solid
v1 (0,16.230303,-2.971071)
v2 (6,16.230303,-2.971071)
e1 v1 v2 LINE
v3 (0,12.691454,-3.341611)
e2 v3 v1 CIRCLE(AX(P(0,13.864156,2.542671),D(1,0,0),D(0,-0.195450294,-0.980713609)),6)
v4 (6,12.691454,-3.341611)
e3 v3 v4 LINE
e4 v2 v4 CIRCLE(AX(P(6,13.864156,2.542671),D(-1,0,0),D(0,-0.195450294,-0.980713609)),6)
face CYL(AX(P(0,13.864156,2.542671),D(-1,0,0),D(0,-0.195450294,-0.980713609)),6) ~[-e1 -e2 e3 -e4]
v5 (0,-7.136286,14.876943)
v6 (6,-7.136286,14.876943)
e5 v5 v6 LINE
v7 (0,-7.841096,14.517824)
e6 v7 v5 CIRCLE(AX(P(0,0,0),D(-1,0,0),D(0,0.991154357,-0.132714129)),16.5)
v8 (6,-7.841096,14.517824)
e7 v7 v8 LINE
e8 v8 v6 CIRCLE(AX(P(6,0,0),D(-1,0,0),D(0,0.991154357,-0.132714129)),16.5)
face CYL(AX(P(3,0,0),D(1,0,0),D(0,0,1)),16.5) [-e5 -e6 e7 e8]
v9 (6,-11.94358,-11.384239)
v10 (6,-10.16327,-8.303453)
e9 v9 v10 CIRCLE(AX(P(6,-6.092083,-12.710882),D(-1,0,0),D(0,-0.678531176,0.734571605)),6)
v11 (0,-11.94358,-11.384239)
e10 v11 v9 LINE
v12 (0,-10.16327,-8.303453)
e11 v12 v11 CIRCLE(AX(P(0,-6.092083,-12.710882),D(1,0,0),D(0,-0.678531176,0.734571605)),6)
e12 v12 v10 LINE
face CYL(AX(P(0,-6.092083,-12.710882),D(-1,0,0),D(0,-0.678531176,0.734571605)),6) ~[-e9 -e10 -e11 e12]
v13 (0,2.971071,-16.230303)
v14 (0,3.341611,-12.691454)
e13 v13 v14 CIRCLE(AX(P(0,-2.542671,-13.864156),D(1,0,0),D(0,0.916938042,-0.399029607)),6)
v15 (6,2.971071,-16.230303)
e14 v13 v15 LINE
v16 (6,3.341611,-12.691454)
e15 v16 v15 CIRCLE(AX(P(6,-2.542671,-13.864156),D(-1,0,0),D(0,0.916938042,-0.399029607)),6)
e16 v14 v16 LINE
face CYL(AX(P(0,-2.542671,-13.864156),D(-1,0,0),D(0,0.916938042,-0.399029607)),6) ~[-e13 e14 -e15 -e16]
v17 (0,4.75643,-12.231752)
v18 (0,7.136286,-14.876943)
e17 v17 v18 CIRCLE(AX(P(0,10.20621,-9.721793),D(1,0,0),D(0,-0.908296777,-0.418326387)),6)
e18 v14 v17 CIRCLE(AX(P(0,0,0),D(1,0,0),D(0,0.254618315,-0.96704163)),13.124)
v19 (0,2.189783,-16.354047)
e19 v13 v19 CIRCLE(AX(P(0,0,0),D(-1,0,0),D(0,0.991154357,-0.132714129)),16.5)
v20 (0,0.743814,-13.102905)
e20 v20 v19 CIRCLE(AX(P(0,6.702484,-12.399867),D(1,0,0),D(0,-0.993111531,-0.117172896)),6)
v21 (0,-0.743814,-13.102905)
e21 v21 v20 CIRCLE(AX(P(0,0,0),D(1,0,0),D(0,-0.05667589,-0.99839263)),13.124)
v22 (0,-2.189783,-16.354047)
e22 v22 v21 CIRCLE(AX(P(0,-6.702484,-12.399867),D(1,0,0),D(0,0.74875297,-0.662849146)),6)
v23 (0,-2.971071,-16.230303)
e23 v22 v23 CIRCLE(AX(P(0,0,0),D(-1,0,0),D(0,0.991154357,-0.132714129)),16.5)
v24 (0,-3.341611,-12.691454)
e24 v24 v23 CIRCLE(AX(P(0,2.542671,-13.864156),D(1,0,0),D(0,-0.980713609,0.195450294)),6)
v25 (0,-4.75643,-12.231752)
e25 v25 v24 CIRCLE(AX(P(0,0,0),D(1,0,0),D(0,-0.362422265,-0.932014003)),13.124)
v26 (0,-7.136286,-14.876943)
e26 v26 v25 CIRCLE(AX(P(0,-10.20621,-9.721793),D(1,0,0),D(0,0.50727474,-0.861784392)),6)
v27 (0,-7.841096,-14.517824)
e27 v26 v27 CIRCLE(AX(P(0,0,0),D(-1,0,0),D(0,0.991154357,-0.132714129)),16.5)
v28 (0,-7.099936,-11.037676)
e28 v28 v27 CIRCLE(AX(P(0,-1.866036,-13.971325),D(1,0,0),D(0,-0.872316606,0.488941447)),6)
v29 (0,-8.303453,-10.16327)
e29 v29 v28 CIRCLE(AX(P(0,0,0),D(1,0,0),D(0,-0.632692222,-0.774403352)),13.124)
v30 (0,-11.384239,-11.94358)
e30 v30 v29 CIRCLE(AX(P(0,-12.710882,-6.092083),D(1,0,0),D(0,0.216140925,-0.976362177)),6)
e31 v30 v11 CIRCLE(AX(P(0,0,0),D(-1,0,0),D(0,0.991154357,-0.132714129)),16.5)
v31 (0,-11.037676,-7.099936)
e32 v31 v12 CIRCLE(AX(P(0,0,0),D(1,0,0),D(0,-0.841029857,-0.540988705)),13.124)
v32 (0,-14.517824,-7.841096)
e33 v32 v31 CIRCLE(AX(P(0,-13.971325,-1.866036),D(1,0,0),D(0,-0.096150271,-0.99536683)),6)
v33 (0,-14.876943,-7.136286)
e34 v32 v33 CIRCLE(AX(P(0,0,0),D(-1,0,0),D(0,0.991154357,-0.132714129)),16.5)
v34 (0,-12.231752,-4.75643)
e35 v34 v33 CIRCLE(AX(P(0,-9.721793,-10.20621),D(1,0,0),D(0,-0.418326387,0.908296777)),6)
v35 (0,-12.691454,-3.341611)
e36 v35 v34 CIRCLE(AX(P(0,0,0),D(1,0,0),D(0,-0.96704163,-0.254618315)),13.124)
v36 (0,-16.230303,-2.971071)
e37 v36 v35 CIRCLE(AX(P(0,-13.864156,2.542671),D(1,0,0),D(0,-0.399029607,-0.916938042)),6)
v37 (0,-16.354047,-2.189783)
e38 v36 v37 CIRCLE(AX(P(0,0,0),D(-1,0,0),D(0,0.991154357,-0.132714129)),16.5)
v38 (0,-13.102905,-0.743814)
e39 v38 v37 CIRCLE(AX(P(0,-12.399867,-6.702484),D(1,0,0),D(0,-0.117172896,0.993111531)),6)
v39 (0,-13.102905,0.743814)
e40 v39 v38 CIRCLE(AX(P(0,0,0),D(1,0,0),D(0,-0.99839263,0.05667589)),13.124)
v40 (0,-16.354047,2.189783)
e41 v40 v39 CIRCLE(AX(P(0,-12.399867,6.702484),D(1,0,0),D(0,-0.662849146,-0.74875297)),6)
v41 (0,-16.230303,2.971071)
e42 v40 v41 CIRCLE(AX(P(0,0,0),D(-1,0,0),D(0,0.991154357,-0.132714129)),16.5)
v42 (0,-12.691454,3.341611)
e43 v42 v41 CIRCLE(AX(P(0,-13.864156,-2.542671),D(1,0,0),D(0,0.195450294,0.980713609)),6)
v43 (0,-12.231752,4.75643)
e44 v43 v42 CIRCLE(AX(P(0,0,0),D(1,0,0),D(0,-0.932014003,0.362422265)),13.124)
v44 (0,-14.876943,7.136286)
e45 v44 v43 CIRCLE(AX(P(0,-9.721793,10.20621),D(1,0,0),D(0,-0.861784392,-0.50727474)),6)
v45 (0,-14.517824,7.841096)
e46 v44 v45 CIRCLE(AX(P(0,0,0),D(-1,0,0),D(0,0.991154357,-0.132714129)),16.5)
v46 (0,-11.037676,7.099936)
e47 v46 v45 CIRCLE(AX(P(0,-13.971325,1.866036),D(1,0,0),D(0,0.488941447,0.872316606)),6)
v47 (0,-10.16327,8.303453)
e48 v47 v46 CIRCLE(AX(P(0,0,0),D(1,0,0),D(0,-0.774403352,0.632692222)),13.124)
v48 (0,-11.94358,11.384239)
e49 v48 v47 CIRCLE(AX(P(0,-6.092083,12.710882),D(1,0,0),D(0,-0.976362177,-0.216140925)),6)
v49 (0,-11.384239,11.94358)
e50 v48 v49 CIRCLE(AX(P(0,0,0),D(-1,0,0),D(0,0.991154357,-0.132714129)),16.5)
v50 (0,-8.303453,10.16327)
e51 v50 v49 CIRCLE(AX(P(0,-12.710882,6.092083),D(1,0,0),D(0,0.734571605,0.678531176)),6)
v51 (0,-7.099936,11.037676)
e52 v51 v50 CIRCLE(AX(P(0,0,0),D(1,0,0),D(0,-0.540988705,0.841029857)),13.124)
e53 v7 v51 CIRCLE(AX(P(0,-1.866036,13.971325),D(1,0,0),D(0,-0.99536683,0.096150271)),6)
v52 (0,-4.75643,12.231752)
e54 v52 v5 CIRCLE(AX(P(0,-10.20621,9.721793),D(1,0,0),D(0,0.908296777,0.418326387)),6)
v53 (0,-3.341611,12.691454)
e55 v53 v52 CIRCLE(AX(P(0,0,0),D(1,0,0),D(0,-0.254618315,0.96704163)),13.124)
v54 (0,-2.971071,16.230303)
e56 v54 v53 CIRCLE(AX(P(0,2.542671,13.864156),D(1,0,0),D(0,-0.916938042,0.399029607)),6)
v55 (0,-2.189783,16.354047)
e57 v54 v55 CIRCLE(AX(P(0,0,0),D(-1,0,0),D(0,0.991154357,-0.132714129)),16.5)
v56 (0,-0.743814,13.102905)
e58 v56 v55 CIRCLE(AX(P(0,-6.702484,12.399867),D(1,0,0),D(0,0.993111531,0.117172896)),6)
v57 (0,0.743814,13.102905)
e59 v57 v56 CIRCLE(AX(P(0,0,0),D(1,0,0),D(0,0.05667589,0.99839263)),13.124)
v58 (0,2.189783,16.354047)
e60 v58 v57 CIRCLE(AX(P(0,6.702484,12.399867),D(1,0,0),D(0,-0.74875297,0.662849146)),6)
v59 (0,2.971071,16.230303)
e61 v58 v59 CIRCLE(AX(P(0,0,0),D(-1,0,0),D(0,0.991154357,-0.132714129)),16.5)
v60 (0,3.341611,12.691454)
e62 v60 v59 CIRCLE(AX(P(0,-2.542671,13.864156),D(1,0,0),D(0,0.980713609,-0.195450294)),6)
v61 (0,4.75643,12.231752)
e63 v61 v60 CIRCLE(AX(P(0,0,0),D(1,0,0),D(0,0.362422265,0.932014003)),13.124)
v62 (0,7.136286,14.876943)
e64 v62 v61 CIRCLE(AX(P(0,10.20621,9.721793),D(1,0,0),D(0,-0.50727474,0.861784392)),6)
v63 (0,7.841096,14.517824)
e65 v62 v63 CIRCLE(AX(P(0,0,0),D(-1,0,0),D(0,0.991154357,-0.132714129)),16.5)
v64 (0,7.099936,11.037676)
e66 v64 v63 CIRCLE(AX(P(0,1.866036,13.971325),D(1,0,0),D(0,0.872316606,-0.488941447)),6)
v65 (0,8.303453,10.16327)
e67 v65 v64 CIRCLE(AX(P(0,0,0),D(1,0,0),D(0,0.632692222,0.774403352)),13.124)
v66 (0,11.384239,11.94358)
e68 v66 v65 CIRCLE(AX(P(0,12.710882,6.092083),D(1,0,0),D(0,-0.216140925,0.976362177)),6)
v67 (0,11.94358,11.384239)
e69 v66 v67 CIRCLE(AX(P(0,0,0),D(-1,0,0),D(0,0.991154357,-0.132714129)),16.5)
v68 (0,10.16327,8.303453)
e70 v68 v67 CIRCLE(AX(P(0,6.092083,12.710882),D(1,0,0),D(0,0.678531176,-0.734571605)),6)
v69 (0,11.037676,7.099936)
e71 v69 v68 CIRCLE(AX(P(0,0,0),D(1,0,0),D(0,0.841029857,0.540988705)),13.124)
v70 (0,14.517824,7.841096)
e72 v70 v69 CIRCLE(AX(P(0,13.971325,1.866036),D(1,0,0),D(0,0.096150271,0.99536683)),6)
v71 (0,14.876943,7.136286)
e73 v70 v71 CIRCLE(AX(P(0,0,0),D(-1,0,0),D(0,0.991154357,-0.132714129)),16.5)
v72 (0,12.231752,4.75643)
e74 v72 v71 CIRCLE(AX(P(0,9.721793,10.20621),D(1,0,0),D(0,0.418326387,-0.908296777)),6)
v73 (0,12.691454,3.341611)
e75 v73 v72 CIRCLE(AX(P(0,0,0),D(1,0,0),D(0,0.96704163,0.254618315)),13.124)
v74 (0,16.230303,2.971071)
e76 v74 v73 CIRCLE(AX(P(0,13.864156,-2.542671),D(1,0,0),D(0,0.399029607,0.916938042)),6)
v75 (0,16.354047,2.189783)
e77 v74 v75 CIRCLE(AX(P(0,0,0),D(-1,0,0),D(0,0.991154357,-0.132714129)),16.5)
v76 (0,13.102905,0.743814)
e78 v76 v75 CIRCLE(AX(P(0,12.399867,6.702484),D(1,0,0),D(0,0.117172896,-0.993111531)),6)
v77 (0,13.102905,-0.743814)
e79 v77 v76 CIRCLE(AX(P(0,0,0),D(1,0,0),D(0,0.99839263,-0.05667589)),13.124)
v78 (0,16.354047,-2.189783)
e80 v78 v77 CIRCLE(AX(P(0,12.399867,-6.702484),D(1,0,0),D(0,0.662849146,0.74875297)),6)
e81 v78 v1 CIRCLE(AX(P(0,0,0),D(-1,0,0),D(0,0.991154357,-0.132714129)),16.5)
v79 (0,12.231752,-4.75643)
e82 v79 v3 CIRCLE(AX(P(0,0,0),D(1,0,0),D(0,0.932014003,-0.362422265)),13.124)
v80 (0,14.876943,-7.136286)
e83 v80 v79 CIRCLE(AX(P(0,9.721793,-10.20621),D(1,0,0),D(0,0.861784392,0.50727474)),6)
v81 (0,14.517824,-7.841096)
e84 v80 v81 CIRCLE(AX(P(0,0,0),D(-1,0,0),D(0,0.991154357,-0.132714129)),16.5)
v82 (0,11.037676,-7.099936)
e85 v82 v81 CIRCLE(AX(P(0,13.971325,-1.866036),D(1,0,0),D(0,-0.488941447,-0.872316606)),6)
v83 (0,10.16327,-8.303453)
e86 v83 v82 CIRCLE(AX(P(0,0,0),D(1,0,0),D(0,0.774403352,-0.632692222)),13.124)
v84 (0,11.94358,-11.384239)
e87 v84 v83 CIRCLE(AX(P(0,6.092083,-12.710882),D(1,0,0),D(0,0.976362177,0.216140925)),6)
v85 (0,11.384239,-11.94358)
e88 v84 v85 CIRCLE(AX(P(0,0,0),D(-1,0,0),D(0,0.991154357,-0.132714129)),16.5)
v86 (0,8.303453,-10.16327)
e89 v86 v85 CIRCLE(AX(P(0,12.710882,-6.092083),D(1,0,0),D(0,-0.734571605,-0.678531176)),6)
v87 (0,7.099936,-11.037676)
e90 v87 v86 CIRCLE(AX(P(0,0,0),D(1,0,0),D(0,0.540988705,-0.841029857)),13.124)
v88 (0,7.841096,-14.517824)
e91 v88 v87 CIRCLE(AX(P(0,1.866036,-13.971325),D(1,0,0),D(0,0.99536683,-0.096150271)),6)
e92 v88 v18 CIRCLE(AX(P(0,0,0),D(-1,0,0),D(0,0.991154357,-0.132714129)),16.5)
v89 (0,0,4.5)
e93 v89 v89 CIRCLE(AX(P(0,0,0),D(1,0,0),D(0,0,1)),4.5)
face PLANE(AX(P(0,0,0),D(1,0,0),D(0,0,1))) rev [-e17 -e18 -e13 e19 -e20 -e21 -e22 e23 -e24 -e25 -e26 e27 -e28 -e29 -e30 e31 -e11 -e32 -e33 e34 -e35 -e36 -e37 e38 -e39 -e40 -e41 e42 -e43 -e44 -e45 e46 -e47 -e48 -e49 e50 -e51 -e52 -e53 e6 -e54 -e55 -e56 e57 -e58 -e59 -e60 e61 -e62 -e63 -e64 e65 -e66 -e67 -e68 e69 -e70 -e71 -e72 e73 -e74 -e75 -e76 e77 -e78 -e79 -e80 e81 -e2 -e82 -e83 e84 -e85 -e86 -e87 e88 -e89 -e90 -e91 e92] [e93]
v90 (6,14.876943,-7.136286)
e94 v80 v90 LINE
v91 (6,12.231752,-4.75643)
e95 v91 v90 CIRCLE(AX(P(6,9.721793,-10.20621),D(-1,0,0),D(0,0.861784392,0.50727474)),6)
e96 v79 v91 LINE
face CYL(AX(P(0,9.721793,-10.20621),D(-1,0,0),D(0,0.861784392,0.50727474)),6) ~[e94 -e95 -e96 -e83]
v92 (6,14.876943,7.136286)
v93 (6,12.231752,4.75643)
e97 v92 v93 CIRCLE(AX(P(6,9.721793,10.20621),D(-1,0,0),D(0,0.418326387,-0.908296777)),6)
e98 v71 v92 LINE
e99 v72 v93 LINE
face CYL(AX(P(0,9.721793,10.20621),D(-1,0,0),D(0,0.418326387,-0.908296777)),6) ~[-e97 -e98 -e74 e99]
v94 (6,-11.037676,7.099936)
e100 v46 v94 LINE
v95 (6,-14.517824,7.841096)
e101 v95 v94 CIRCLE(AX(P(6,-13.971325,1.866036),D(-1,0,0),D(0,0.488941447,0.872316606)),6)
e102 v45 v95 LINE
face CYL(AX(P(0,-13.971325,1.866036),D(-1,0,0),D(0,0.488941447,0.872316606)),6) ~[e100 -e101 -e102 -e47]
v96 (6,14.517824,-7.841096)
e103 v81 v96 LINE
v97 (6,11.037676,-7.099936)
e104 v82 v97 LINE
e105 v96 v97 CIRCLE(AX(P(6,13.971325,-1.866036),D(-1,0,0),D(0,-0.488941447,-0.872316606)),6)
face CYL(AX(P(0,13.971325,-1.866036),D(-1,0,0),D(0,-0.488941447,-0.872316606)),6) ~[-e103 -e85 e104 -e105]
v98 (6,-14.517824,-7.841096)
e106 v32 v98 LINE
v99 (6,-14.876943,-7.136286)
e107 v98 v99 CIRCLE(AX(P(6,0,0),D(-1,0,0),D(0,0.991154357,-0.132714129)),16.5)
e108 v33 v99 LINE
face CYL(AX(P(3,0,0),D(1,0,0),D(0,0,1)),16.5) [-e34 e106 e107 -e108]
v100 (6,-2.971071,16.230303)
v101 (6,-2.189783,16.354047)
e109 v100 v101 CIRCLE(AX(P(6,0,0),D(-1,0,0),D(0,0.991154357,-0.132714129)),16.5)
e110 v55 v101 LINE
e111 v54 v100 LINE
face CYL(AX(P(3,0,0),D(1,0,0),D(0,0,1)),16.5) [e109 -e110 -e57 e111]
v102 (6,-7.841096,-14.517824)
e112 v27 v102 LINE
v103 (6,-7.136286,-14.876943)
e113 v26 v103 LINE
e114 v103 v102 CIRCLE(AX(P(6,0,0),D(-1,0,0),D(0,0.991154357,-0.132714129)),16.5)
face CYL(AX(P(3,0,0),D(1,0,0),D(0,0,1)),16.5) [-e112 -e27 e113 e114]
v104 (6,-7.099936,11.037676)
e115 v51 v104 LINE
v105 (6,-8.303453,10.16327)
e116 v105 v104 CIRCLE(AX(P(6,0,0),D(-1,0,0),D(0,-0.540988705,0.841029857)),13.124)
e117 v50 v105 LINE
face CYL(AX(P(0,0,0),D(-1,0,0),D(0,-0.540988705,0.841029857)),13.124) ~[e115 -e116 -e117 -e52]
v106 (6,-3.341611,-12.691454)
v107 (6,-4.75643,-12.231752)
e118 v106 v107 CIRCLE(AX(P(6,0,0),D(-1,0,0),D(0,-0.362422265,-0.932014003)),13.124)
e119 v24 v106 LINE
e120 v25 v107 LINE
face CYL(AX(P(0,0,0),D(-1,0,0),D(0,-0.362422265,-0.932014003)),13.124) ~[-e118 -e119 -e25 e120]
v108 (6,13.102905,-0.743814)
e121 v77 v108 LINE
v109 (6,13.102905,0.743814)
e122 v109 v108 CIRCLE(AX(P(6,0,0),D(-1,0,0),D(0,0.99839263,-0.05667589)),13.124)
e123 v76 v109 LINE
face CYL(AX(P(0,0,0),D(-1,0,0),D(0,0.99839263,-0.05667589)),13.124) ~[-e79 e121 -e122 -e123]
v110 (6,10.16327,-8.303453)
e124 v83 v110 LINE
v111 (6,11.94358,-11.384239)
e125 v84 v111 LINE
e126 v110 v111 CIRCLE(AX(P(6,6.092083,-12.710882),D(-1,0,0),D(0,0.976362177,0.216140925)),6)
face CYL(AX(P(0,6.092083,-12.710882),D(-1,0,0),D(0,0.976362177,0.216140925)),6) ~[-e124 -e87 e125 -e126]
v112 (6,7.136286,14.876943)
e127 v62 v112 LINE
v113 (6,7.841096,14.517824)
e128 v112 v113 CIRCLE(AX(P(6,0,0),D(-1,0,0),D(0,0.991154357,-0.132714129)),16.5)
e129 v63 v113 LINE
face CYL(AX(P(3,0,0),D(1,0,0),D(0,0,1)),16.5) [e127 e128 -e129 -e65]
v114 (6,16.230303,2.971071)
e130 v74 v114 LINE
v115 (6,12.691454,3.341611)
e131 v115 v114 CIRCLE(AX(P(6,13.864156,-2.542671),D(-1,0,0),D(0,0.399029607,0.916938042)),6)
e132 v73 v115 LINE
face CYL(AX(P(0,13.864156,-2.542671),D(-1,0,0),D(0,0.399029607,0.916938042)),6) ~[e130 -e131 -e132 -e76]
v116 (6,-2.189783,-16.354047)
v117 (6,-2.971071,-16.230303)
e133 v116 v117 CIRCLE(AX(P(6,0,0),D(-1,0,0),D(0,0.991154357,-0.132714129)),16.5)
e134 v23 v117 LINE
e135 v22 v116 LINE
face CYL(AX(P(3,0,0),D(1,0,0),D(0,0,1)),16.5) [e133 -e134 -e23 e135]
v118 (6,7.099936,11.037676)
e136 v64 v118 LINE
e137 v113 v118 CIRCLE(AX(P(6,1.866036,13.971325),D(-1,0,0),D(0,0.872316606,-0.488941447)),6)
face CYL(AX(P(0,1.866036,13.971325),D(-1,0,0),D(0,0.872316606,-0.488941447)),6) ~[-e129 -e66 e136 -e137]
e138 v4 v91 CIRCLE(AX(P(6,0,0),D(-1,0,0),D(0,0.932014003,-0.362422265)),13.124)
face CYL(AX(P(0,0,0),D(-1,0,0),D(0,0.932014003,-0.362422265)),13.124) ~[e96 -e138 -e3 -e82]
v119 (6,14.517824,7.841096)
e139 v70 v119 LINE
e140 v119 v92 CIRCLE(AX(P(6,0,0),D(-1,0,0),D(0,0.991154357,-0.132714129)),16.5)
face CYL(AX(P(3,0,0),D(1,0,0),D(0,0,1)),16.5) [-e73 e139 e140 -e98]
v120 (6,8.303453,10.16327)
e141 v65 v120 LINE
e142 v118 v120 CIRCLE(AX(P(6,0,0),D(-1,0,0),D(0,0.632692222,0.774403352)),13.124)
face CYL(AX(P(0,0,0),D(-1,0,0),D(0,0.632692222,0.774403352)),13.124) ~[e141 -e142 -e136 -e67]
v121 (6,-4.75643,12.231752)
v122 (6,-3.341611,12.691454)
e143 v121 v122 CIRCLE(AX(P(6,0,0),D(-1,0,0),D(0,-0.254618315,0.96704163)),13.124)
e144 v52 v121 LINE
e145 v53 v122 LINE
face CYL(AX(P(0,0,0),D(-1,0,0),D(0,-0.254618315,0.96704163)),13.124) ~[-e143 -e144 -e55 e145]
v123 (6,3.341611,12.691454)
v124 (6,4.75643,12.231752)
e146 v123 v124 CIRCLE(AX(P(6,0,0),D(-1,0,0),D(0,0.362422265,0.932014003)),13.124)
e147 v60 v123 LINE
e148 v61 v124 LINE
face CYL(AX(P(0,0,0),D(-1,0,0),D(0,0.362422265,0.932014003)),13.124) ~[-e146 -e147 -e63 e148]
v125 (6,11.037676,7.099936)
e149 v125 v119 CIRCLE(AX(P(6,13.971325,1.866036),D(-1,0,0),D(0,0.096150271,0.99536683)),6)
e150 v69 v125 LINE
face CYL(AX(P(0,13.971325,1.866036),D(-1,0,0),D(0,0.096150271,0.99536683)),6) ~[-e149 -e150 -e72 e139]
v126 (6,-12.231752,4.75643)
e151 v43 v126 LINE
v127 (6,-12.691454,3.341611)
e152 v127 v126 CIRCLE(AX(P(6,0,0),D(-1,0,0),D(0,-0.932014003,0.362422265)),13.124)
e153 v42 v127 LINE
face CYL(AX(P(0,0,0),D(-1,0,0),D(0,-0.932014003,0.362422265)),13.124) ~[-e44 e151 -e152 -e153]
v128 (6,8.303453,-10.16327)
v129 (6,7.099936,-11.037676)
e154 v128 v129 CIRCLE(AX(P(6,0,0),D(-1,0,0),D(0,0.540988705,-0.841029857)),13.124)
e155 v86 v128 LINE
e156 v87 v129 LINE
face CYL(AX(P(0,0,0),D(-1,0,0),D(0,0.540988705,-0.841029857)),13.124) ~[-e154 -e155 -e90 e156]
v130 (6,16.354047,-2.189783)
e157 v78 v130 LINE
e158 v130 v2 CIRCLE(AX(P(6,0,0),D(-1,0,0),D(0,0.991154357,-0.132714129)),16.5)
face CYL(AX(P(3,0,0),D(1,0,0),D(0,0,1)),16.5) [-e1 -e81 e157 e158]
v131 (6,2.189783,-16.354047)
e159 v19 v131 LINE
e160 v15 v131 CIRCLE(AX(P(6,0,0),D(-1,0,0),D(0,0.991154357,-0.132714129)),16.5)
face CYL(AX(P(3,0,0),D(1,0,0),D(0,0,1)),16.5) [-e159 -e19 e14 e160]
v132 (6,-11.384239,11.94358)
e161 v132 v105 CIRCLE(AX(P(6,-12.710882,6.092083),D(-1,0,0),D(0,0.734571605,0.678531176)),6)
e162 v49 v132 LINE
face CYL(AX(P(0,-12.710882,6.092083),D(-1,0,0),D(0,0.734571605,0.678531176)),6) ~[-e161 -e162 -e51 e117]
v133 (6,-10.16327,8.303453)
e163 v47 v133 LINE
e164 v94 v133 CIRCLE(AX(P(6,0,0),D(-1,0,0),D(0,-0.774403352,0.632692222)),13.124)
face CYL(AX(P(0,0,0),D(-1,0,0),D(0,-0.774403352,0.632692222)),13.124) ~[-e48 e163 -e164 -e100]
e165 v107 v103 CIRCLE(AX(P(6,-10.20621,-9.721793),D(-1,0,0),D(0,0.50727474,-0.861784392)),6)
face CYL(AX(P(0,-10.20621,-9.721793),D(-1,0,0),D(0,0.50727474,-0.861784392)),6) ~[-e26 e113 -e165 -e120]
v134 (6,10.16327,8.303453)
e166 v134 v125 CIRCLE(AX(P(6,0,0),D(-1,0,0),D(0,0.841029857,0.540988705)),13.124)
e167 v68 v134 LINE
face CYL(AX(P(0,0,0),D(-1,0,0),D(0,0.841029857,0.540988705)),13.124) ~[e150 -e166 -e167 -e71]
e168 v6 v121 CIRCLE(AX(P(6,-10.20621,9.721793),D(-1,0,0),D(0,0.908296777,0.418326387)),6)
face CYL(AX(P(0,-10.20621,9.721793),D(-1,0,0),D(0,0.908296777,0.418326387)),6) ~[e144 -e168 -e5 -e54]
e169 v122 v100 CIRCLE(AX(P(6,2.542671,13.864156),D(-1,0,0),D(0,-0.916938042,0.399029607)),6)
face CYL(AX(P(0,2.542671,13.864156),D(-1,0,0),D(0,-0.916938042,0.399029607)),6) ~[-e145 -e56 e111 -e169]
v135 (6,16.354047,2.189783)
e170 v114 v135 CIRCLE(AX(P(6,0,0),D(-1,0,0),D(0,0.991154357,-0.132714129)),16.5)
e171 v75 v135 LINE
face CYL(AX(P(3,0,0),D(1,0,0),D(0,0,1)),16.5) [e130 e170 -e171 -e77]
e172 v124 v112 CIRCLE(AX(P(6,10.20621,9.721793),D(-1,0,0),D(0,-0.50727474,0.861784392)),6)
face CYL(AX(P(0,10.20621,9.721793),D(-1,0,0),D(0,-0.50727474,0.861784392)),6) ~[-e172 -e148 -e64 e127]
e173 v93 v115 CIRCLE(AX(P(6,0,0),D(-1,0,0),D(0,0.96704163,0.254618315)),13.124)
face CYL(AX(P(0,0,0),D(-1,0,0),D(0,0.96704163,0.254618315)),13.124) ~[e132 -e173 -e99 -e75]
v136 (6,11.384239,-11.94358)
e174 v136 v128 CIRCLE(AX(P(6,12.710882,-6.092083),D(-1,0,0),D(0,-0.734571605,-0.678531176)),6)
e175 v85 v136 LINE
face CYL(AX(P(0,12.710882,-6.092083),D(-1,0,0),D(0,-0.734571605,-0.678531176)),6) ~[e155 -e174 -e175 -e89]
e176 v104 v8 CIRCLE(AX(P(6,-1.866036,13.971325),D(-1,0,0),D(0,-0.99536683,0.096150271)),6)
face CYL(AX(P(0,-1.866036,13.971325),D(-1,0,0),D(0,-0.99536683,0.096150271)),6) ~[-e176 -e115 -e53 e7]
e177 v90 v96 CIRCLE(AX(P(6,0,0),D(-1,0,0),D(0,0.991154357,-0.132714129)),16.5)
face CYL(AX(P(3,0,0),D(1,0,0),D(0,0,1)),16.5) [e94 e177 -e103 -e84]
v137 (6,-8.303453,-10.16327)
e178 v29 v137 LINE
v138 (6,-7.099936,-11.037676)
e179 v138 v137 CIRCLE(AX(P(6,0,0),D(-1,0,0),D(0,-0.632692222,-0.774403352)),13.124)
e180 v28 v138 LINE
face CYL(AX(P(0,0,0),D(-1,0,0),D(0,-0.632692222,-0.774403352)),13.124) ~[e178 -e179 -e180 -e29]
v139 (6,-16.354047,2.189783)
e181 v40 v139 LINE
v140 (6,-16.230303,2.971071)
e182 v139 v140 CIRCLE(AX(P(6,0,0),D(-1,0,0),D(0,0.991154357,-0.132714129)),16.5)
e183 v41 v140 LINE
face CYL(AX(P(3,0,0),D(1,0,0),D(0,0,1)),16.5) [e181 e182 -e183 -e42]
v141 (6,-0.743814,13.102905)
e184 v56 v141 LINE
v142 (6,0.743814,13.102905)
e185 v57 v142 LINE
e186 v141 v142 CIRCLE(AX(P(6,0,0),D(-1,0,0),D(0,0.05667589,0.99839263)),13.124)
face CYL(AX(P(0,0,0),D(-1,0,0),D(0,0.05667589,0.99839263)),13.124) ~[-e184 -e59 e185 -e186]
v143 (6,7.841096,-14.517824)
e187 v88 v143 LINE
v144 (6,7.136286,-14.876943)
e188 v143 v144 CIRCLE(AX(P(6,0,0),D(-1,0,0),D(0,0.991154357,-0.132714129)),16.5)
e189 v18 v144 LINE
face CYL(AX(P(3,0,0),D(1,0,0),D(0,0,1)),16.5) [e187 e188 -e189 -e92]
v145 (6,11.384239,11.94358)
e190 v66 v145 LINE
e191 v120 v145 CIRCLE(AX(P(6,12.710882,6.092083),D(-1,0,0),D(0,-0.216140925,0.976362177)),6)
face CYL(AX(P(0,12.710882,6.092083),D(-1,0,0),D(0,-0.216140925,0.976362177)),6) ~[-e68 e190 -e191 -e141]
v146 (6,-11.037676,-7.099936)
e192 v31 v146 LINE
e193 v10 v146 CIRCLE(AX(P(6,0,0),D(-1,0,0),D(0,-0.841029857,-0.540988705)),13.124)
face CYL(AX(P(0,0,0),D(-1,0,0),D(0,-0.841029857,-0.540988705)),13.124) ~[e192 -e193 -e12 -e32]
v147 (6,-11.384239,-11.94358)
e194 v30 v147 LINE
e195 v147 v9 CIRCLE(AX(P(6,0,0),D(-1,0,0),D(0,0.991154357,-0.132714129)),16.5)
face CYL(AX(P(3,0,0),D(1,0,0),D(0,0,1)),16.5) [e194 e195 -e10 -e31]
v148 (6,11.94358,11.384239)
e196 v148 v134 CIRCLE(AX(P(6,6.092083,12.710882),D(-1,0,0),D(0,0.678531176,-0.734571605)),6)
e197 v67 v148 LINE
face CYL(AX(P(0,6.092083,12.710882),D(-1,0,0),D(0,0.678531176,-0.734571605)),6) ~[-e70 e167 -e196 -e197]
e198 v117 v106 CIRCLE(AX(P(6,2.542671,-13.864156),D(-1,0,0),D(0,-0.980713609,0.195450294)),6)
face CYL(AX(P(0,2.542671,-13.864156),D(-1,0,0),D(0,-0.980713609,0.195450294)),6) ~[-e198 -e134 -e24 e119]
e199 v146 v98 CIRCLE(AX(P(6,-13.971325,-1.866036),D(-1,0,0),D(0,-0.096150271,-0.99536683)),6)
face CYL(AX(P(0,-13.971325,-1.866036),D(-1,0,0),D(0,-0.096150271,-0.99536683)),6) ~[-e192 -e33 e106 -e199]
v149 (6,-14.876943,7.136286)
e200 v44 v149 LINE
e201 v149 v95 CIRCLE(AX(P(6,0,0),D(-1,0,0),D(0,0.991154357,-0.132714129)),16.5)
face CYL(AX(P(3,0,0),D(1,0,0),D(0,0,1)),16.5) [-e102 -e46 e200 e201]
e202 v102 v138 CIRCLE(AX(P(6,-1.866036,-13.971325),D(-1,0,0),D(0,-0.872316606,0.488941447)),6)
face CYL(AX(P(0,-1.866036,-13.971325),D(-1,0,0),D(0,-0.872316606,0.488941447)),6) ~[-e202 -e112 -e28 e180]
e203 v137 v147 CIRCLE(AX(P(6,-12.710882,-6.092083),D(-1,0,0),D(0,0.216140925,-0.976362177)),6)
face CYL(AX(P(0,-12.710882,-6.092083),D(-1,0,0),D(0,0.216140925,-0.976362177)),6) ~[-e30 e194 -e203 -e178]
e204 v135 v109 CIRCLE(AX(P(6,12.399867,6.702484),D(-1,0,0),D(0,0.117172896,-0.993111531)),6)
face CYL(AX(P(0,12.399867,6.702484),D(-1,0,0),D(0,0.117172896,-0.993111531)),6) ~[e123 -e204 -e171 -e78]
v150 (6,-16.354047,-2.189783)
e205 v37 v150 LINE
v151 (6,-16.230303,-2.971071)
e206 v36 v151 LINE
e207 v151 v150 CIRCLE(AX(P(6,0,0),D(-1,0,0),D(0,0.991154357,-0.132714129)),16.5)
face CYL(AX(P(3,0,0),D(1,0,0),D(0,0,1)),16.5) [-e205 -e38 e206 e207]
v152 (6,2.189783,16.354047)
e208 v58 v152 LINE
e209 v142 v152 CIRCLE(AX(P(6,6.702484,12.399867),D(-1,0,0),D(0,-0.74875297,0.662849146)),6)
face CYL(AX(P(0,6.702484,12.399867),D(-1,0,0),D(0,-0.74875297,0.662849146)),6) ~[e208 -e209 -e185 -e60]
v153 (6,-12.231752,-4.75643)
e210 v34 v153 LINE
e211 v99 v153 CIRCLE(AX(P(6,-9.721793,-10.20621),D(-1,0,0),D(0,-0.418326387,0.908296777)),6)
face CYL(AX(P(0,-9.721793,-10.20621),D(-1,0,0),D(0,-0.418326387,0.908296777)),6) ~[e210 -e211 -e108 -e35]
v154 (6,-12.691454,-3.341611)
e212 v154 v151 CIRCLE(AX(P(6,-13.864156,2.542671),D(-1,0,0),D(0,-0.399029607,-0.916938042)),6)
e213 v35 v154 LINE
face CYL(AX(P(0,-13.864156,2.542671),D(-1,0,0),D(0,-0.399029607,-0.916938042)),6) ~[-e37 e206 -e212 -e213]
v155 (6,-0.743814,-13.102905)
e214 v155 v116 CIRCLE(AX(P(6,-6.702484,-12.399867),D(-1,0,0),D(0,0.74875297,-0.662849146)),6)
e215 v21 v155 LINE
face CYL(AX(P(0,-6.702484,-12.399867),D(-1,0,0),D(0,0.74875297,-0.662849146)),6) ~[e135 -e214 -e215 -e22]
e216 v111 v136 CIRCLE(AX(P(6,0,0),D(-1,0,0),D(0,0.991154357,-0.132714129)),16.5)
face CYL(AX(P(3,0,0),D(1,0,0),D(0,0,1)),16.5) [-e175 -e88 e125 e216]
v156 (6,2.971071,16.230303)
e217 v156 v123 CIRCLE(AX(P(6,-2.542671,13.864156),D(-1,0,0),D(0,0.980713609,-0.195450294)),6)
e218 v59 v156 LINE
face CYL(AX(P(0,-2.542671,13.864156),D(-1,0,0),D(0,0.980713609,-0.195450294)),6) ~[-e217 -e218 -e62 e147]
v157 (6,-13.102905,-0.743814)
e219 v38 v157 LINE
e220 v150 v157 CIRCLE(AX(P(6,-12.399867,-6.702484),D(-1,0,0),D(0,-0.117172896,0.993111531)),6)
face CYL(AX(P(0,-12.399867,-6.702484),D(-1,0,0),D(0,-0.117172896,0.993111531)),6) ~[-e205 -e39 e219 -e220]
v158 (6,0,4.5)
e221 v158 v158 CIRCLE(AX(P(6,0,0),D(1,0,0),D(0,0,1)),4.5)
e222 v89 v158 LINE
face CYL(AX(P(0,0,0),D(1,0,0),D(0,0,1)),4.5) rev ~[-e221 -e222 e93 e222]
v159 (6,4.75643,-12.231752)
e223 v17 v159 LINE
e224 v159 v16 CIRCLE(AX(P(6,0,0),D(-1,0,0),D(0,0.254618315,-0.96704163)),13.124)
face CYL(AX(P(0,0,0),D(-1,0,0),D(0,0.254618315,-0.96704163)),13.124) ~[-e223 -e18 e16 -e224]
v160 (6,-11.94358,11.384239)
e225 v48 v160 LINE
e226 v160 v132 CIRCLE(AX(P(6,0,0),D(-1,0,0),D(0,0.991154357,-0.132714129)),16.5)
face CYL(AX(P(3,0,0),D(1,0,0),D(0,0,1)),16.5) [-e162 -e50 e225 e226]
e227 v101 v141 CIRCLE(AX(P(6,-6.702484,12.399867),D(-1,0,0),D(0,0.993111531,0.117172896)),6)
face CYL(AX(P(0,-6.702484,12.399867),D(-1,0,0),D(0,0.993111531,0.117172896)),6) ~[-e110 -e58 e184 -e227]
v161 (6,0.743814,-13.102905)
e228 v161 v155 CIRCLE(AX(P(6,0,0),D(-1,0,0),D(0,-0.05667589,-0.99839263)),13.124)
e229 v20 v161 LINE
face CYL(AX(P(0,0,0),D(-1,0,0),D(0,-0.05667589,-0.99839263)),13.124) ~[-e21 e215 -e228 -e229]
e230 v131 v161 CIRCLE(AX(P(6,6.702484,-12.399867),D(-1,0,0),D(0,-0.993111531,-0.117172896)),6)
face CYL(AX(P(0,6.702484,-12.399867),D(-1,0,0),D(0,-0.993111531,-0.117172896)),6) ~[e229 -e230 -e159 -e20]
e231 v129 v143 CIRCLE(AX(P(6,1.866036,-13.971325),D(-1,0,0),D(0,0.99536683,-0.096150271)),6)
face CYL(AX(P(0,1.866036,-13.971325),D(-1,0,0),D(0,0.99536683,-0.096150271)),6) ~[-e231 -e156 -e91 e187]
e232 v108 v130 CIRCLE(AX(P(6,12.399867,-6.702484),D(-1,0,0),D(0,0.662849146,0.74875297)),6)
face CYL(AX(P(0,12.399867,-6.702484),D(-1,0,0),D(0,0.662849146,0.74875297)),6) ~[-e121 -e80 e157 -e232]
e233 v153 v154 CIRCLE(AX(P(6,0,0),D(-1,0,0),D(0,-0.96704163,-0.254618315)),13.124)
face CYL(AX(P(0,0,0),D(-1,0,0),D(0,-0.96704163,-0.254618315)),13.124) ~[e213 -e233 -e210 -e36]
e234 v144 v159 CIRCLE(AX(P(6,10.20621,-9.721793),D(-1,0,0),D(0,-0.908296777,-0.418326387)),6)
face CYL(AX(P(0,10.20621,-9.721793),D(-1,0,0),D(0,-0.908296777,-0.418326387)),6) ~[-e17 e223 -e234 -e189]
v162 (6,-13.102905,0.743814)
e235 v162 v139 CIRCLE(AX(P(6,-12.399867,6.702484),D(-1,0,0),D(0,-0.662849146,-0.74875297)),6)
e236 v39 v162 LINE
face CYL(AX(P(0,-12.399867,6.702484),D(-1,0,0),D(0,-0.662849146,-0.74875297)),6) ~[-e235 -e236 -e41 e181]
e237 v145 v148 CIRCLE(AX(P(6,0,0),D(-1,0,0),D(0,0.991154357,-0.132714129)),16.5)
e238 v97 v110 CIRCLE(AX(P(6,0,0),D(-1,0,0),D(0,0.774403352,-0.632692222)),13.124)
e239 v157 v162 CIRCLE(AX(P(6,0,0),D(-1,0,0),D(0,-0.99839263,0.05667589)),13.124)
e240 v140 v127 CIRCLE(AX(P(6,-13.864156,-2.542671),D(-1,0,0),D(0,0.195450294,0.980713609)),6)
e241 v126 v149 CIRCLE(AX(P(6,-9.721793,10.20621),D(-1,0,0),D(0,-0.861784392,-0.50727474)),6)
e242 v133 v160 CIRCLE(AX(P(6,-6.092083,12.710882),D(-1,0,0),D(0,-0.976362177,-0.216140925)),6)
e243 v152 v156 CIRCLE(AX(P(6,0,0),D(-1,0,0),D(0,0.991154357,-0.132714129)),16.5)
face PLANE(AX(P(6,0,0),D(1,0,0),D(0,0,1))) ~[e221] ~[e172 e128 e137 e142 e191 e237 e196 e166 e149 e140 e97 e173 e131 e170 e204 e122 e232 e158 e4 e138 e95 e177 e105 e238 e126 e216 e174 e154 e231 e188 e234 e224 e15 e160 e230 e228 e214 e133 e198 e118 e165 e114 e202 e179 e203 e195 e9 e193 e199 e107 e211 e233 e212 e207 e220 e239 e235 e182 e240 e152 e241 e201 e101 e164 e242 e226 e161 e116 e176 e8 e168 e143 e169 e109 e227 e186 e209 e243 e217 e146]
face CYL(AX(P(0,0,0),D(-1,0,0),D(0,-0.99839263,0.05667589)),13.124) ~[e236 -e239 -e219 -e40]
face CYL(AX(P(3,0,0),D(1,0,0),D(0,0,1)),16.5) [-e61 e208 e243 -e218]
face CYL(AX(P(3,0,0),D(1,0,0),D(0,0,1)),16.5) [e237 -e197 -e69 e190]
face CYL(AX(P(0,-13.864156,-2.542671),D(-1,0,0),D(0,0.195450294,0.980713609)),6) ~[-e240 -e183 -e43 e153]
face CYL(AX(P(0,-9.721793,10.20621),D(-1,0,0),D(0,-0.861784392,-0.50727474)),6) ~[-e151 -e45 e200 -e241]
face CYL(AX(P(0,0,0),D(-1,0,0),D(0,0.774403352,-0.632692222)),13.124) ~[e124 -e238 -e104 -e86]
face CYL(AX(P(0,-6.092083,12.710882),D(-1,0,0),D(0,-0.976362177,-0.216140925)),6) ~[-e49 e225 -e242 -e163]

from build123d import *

# Parameters (mm, degrees)
BASPROSKE_W     = 6
BASPROSKE_H     = 16.5
TOOTHCUT_DEPTH  = 25.093567606
TEETHCUTS_COUNT = 20
TEETHCUTS_ANGLE = 342
BORSKE_R        = 4.5
BORE_DEPTH      = 50.0000508


with BuildPart() as part:
    # BasProSke → Base-Revolve (revolve)
    with BuildSketch(Plane(origin=(0, 0, 0), x_dir=(1, 0, 0), z_dir=(0, 1, 0)), mode=Mode.PRIVATE) as base_revolve_sk:
        with Locations((3, 8.25)):
            Rectangle(BASPROSKE_W, BASPROSKE_H)
    revolve(base_revolve_sk.sketch.rotate(Axis((-10, 0, 0), (1, 0, 0)), 180), axis=Axis((-10, 0, 0), (1, 0, 0)))

    # TooCutSke → ToothCut (cut, through all)
    with BuildSketch(Plane(origin=(0, 0, 0), x_dir=(0, 0, -1), z_dir=(1, 0, 0))):
        with BuildLine():
            ThreePointArc((0.74381438, 13.102904875), (0, 13.124), (-0.74381438, 13.102904875))
            ThreePointArc((-0.74381438, 13.102904875), (-1.226473103, 14.852072512), (-2.209965745, 16.376962373))
            ThreePointArc((-2.209965745, 16.376962373), (0, 16.5254), (2.209965745, 16.376962373))
            ThreePointArc((2.209965745, 16.376962373), (1.226473103, 14.852072512), (0.74381438, 13.102904875))
        make_face()
    toothcut = extrude(amount=TOOTHCUT_DEPTH, mode=Mode.SUBTRACT)

    # TeethCuts: ToothCut ×20 about axis
    teethcuts_axis = Axis((-10, 0, 0), (1, 0, 0))
    for i in range(1, TEETHCUTS_COUNT):
        add(toothcut.rotate(teethcuts_axis, i * TEETHCUTS_ANGLE / (TEETHCUTS_COUNT - 1)), mode=Mode.SUBTRACT)

    # BorSke → Bore (cut, symmetric)
    with BuildSketch(Plane(origin=(0, 0, 0), x_dir=(0, 0, -1), z_dir=(1, 0, 0))):
        with Locations(Location((0, 0, 0), (0, 0, 180))):
            Circle(BORSKE_R)
    extrude(amount=BORE_DEPTH, both=True, mode=Mode.SUBTRACT)


solid = part.part
